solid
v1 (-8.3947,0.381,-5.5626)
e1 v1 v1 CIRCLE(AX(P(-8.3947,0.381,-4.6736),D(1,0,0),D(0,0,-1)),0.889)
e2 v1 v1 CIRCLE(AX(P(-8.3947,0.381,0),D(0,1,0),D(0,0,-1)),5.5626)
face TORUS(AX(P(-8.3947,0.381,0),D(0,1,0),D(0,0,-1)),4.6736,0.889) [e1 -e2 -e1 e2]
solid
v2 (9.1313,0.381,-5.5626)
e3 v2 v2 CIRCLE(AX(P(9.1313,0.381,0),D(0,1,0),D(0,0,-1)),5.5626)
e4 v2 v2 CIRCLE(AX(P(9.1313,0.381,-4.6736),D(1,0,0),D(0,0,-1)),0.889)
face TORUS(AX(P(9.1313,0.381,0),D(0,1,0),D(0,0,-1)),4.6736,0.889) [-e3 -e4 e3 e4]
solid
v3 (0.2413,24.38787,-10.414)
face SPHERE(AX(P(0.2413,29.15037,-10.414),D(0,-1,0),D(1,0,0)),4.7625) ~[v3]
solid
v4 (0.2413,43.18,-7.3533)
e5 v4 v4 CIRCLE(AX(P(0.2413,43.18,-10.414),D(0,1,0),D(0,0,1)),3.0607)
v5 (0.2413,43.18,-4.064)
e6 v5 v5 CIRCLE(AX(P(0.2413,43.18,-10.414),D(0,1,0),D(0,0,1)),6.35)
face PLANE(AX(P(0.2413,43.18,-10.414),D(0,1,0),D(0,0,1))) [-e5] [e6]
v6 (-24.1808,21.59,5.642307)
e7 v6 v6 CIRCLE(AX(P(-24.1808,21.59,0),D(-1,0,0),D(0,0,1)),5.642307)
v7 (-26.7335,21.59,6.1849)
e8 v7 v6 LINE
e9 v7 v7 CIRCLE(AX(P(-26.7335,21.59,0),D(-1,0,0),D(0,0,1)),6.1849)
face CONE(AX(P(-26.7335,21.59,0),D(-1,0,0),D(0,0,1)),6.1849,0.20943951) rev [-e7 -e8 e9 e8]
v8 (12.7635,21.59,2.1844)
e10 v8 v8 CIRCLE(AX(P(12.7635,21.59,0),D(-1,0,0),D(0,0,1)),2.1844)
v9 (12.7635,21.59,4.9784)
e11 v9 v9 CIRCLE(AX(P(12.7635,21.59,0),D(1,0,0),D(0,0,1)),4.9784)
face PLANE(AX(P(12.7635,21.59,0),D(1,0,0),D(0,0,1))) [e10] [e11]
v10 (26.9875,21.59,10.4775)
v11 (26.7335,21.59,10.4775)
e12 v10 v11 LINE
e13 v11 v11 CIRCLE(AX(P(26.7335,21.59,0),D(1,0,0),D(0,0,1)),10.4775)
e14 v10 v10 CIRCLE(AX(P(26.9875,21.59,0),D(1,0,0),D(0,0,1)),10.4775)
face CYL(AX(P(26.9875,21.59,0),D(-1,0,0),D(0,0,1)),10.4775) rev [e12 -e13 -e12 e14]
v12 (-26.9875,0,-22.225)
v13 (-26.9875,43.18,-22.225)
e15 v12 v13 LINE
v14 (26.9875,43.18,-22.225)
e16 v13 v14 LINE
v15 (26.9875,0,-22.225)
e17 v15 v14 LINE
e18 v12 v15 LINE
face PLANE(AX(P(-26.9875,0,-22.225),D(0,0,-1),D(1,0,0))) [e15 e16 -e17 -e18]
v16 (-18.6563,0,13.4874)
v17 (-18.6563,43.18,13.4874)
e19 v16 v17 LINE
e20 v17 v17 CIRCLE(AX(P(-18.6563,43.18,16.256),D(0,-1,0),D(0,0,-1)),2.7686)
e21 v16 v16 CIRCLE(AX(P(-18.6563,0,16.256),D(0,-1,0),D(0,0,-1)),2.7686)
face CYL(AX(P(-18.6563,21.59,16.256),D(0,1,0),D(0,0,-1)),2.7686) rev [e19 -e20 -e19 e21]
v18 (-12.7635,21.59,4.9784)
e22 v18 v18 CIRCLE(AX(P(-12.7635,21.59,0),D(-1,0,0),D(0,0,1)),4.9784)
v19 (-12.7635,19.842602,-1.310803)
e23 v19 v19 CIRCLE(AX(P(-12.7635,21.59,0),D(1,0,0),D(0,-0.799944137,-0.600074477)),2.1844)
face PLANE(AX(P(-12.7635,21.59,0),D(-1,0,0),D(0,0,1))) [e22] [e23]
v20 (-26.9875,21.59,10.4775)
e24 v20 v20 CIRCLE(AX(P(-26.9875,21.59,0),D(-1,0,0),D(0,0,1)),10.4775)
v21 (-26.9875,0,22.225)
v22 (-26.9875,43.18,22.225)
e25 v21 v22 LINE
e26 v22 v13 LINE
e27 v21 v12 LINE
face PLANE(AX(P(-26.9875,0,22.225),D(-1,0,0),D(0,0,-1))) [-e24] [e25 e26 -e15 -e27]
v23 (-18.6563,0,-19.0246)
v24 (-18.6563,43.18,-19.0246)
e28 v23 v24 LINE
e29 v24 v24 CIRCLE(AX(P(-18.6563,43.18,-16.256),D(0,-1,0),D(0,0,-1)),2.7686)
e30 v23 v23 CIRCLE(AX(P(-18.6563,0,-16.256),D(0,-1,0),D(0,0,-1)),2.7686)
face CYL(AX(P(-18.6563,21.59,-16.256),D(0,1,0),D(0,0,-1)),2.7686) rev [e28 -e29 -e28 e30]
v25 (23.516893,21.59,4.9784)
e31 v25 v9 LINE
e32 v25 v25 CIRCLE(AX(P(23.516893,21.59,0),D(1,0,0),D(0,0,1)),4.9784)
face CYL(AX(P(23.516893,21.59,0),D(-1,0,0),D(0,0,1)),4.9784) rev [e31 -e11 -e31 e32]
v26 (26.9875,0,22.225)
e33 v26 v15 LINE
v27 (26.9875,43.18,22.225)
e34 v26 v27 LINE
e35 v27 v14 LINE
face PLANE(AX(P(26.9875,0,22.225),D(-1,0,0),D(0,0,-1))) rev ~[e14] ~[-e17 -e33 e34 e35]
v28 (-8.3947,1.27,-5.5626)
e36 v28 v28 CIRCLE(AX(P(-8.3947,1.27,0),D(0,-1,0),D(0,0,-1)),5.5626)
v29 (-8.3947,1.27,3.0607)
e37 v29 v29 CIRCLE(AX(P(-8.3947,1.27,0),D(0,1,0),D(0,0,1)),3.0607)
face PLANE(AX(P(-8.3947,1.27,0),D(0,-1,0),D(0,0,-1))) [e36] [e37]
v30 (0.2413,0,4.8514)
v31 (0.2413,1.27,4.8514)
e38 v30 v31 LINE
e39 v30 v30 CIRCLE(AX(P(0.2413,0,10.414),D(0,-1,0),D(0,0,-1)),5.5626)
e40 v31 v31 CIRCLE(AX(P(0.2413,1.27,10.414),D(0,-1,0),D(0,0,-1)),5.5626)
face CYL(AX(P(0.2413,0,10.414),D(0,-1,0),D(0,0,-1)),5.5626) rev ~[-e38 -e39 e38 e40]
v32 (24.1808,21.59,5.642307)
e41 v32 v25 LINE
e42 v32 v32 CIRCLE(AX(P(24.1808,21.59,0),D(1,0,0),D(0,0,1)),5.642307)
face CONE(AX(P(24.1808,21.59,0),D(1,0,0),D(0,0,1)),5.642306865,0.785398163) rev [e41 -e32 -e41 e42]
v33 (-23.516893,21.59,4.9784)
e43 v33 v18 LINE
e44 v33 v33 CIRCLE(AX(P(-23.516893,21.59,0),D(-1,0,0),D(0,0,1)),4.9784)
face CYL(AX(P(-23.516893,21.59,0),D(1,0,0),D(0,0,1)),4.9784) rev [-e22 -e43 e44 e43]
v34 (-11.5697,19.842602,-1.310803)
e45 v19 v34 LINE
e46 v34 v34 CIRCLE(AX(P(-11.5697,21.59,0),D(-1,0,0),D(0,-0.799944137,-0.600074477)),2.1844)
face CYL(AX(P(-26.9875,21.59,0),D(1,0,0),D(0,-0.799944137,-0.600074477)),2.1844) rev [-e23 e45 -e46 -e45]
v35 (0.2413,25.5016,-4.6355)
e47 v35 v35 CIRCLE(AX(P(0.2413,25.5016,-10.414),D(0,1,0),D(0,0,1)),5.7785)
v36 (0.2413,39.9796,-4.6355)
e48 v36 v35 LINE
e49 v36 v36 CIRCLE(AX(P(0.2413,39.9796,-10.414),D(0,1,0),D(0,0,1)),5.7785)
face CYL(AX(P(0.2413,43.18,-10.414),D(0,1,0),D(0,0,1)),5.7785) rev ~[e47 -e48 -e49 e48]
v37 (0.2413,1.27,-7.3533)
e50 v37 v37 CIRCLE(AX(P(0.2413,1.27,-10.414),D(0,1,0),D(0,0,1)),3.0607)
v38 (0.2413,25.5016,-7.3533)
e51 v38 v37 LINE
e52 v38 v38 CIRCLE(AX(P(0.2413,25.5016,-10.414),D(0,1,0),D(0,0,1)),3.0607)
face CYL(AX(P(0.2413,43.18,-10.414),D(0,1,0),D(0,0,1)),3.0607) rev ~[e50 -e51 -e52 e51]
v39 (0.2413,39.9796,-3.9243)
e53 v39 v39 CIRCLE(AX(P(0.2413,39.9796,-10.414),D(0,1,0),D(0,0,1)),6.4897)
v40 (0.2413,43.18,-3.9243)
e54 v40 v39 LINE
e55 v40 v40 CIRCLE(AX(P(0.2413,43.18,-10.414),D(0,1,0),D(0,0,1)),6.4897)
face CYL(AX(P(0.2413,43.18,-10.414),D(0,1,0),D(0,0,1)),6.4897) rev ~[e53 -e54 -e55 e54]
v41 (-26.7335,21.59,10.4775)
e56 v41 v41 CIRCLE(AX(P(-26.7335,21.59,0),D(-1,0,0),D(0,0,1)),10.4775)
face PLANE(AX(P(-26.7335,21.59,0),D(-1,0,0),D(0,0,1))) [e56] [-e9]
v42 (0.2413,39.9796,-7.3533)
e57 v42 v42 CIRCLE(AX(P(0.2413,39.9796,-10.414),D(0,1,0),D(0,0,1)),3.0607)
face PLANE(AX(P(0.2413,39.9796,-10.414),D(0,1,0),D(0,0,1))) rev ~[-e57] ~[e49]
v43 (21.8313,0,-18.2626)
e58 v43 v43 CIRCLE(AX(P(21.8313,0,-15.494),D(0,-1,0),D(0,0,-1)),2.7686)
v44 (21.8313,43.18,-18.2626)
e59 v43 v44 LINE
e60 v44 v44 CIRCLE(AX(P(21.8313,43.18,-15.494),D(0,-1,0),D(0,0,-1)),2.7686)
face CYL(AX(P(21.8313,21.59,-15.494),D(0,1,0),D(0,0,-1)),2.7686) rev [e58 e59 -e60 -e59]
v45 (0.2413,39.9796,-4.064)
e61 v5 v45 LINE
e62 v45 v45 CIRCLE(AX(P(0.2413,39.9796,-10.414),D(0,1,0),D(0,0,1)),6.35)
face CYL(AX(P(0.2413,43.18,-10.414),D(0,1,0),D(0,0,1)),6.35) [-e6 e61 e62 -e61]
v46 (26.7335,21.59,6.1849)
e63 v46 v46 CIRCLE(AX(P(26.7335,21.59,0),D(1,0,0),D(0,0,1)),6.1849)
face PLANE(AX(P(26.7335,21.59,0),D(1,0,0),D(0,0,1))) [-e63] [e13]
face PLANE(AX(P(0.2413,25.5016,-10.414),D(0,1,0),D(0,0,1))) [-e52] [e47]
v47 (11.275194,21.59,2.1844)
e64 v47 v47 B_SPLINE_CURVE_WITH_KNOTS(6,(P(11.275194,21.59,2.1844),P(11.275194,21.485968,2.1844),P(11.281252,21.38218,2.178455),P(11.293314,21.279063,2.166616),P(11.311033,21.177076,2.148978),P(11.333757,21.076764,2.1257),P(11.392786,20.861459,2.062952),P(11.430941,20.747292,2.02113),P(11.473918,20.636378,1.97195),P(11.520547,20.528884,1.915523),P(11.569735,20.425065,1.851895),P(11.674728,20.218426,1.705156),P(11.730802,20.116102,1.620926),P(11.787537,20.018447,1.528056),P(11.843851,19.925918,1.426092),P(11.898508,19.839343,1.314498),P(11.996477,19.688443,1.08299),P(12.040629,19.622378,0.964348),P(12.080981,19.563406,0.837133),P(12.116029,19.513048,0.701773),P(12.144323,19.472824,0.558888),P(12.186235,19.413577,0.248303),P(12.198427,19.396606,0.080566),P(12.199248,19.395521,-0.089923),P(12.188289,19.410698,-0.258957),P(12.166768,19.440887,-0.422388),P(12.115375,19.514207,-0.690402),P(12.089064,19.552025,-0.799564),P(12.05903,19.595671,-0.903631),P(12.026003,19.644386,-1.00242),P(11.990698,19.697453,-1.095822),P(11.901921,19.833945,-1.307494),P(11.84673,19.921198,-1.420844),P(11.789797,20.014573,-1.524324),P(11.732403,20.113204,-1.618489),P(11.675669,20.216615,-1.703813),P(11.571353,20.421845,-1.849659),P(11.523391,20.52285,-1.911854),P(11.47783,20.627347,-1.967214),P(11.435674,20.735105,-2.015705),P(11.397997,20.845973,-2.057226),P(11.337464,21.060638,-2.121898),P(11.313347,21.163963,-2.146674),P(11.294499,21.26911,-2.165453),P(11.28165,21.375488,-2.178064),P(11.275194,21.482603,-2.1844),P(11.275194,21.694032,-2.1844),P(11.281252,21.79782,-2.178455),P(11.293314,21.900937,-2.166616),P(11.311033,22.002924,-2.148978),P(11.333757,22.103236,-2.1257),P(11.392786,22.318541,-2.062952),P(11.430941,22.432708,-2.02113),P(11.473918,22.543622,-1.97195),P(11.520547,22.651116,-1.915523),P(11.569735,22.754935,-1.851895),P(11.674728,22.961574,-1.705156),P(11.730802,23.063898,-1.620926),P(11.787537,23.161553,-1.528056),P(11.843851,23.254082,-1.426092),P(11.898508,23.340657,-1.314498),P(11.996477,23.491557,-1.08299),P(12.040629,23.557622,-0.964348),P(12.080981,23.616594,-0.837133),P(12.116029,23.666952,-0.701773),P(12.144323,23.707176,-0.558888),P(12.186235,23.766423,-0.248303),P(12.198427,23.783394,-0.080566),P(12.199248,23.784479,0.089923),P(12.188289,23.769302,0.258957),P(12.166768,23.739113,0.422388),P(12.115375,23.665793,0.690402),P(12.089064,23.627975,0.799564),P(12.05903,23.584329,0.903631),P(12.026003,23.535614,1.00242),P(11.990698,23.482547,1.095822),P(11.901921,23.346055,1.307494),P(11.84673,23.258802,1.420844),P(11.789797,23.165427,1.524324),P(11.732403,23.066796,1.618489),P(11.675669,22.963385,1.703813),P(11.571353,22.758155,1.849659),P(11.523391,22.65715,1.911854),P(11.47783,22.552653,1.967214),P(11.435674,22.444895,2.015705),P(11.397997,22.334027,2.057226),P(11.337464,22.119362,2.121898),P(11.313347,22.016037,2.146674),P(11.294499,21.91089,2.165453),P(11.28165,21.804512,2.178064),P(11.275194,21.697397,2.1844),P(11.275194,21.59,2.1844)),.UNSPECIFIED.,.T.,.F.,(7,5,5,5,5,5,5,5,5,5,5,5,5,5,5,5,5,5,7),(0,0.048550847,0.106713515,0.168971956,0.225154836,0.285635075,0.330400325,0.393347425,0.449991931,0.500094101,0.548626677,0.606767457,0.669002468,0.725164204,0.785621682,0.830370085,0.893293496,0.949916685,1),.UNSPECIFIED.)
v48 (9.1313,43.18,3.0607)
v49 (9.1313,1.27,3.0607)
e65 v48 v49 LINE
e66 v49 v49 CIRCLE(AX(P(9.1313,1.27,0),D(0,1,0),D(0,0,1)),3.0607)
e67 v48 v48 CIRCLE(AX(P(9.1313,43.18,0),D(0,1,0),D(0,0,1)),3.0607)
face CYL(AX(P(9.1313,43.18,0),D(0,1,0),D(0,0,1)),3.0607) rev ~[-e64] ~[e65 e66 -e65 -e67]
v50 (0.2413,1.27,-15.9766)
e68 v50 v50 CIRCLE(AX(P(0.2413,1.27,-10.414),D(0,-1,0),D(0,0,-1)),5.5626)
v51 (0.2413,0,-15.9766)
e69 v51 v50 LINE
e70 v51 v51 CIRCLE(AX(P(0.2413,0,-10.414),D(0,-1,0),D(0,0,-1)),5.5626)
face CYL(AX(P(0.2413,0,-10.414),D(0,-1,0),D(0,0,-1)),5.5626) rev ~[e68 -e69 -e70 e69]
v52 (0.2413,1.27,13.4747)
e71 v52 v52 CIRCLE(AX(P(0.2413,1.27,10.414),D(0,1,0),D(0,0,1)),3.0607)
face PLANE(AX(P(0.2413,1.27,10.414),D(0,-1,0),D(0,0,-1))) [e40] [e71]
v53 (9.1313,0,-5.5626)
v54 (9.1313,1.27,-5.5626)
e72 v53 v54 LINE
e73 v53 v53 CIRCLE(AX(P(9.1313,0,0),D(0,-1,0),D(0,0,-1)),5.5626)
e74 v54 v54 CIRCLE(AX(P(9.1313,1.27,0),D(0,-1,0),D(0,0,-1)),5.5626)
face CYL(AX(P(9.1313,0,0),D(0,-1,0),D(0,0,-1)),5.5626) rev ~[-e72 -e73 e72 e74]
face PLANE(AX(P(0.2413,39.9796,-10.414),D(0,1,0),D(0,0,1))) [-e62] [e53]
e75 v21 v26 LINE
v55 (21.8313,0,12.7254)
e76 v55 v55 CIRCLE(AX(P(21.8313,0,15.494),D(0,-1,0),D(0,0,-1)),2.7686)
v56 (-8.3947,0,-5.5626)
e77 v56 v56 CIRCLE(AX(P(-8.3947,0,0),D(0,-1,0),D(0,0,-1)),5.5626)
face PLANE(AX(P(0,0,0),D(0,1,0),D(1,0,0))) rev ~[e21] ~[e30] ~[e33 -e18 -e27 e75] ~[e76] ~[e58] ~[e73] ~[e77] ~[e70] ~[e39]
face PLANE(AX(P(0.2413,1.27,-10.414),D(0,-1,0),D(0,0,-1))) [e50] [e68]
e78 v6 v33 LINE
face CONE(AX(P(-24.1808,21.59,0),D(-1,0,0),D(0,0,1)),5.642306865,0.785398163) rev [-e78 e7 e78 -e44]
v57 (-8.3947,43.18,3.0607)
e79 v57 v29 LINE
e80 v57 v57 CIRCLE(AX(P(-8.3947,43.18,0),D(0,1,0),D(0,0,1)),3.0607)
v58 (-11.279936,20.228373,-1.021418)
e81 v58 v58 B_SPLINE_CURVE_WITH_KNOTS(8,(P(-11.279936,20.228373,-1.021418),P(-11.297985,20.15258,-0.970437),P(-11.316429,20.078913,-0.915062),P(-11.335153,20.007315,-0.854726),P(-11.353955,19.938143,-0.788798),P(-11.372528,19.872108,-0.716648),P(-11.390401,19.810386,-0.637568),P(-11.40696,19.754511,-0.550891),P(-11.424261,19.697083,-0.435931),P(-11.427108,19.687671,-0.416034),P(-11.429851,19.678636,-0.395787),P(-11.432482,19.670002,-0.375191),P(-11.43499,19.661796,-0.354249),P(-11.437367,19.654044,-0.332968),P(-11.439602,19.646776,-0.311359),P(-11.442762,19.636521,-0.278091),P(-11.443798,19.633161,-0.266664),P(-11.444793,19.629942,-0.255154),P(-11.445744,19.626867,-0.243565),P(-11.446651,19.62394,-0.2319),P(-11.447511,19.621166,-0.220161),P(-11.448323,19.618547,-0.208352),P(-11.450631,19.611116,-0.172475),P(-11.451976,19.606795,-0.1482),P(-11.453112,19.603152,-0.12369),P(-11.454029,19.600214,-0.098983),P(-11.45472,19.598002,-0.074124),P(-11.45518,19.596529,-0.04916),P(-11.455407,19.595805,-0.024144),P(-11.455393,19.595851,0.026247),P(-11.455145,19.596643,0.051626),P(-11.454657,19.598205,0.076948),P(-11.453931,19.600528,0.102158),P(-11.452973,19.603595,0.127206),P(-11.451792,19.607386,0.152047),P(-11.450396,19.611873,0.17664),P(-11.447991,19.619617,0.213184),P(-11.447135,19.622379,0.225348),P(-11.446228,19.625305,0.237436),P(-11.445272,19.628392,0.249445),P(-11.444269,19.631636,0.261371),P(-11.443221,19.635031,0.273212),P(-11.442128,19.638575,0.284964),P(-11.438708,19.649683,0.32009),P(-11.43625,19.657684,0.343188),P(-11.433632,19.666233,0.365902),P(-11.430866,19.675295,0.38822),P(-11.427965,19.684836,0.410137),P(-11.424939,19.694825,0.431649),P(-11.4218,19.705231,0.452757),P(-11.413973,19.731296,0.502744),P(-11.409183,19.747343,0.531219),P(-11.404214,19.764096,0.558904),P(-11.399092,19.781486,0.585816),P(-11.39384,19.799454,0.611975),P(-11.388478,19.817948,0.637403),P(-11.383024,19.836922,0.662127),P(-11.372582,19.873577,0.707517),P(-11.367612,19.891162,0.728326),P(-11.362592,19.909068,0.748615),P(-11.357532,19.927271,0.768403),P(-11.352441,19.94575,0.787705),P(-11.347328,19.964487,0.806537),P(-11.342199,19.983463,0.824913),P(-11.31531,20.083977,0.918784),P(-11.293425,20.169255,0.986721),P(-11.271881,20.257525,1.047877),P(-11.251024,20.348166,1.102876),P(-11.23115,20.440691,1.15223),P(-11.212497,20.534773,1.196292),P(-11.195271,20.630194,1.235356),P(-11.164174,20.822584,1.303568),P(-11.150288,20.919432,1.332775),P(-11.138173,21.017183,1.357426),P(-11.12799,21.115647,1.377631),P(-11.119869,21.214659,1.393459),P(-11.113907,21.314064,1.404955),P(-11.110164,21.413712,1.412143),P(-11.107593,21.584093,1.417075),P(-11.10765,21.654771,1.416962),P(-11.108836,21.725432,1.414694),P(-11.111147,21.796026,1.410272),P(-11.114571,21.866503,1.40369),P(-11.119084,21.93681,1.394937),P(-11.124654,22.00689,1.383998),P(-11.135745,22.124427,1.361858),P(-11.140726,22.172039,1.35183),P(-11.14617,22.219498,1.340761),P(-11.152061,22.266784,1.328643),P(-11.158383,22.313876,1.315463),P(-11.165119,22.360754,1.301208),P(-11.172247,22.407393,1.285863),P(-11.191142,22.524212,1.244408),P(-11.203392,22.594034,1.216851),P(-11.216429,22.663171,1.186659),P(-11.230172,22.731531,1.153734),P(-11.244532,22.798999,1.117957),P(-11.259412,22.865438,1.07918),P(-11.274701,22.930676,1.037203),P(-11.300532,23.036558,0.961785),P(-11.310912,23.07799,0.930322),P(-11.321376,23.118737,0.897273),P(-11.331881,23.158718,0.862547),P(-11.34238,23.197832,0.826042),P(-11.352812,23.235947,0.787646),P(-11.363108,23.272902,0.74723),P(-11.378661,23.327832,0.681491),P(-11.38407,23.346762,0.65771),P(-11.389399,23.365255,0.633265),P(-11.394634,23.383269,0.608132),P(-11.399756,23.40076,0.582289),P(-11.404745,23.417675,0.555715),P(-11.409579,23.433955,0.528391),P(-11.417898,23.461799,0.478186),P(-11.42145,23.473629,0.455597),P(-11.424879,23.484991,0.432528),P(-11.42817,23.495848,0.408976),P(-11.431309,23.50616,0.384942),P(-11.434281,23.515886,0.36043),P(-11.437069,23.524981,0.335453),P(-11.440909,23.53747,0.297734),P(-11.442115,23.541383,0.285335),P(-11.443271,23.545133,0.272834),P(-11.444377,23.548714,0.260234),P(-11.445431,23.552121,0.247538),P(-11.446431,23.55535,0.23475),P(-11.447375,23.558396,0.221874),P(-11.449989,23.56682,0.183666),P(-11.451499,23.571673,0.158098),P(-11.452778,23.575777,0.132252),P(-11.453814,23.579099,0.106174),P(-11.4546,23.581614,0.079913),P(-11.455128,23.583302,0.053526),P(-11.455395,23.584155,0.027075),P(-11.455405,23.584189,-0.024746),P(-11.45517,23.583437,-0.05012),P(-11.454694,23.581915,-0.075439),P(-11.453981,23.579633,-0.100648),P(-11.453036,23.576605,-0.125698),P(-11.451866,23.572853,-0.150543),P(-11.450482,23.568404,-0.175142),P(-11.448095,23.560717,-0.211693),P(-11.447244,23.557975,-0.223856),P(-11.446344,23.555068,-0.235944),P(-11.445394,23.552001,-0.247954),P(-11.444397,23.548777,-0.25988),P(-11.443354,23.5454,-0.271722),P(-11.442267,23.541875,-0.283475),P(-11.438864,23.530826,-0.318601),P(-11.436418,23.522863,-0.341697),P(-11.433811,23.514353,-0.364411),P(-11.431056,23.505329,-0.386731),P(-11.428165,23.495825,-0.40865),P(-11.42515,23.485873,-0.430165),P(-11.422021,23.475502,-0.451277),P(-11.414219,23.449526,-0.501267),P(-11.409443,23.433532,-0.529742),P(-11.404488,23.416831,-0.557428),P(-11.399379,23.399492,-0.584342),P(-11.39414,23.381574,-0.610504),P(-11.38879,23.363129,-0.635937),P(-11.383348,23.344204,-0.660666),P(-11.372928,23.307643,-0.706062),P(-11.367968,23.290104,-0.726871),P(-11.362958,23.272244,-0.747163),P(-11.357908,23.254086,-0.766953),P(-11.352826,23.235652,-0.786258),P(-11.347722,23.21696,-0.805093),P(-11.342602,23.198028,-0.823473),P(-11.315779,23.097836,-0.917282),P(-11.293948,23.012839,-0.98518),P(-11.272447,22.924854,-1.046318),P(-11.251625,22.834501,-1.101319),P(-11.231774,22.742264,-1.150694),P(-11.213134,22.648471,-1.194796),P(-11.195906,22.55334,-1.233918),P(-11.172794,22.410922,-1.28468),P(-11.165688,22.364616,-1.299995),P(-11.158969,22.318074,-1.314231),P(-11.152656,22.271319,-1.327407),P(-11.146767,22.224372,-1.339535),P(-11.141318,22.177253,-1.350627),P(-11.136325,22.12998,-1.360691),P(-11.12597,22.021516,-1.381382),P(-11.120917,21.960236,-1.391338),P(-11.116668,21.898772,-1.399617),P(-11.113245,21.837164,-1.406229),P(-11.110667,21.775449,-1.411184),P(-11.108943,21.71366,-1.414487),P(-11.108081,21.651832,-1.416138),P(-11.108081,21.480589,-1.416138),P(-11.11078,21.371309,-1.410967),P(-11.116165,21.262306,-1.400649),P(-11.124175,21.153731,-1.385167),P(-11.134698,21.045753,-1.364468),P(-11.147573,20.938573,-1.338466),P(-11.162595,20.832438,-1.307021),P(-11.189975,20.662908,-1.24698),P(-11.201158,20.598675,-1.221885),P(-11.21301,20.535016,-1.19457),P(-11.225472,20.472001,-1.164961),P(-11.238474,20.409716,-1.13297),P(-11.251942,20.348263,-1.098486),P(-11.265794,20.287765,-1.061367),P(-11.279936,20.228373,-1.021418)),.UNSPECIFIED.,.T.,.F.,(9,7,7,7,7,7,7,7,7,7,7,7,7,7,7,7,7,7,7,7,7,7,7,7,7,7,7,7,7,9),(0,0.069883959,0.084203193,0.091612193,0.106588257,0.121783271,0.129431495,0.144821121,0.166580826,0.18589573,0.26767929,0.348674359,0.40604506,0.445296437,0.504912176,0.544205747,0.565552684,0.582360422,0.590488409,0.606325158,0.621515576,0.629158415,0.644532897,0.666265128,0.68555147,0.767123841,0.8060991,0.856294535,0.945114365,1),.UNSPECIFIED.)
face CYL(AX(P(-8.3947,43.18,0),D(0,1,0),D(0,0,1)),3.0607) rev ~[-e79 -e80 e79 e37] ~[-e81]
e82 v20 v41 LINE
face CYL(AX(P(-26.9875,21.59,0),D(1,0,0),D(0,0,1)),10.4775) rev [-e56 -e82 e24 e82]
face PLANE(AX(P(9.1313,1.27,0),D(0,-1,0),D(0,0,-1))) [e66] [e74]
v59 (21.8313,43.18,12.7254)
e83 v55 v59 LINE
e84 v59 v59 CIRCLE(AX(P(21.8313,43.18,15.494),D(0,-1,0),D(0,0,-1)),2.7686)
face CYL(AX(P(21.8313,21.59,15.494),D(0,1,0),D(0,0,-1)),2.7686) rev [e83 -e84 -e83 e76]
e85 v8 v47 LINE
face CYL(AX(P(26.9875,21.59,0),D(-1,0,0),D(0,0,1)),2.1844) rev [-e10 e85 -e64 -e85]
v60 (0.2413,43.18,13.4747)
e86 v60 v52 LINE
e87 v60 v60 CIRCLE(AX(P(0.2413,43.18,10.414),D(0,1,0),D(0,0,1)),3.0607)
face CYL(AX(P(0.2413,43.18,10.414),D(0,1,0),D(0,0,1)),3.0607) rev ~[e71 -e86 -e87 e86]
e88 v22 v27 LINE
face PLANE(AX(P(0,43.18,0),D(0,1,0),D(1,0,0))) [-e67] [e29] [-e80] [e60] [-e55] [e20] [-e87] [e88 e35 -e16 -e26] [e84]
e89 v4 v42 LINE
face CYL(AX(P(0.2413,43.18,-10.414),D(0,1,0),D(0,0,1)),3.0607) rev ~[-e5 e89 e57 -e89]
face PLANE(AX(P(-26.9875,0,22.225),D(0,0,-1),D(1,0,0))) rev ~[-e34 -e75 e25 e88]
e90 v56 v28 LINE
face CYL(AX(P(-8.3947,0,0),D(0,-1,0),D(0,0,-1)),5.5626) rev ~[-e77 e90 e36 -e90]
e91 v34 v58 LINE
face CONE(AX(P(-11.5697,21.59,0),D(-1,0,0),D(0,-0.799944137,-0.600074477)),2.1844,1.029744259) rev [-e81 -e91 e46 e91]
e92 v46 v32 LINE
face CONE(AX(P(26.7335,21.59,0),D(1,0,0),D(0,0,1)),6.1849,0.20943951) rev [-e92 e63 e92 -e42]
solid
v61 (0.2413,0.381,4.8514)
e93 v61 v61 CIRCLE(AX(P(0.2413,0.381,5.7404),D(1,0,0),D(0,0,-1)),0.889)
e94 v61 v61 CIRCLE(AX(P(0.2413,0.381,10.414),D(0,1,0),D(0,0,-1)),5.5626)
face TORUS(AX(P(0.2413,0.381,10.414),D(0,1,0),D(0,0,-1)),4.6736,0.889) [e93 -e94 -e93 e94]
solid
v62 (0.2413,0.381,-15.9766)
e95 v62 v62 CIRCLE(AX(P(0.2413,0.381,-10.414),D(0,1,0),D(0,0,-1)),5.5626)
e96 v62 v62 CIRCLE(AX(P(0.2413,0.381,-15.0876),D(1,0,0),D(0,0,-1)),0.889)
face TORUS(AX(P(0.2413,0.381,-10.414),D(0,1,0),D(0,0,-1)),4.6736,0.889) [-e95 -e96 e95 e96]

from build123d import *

# Parameters (mm, degrees)
SKETCH1_W          = 53.975
SKETCH1_H          = 44.45
EXTRUDE1_DEPTH     = 43.18
SKETCH2_R          = 3.0607
CUT_EXTRUDE1_DEPTH = 44.18
SKETCH3_R          = 5.5626
CUT_EXTRUDE2_DEPTH = 1.27
SKETCH4_R          = 0.889
SKETCH5_R          = 0.889
SKETCH6_R          = 0.889
SKETCH7_R          = 0.889
SKETCH16_R         = 6.4897
CUT_EXTRUDE3_DEPTH = 3.2004
SKETCH17_R         = 5.7785
CUT_EXTRUDE4_DEPTH = 17.6784
SKETCH13_R         = 6.35
SKETCH13_R_2       = 3.0607
EXTRUDE2_DEPTH     = 3.2004
SKETCH18_W         = 2.7686
SKETCH18_H         = 43.18
HOLE1_AT_2_COUNT   = 2
HOLE1_AT_2_PITCH   = 40.494770005
HOLE1_AT_3_COUNT   = 2
HOLE1_AT_3_PITCH   = 51.451999512
HOLE1_AT_4_COUNT   = 2
HOLE1_AT_4_PITCH   = 30.988


with BuildPart() as part:
    # Sketch1 → Extrude1 (new body)
    with BuildSketch(Plane(origin=(0, 0, 0), x_dir=(1, 0, 0), z_dir=(0, 1, 0))):
        Rectangle(SKETCH1_W, SKETCH1_H)
    extrude(amount=EXTRUDE1_DEPTH)

    # Sketch2 → Cut-Extrude1 (cut, through all)
    with BuildSketch(Plane(origin=(0, 43.18, 0), x_dir=(-1, 0, 0), z_dir=(0, 1, 0))):
        with Locations(Location((-0.2413, 10.414, 0), (0, 0, 90))):  # turned: the seam where the file's is
            Circle(SKETCH2_R)
        with Locations(Location((-0.2413, -10.414, 0), (0, 0, 90))):  # turned: the seam where the file's is
            Circle(SKETCH2_R)
        with Locations(Location((-9.1313, 0, 0), (0, 0, 90))):  # turned: the seam where the file's is
            Circle(SKETCH2_R)
        with Locations(Location((8.3947, 0, 0), (0, 0, 90))):  # turned: the seam where the file's is
            Circle(SKETCH2_R)
    extrude(amount=-CUT_EXTRUDE1_DEPTH, mode=Mode.SUBTRACT)

    # Sketch3 → Cut-Extrude2 (cut)
    with BuildSketch(Plane.XZ):
        with Locations(Location((0.2413, -10.414, 0), (0, 0, 270))):  # turned: the seam where the file's is
            Circle(SKETCH3_R)
        with Locations(Location((9.1313, 0, 0), (0, 0, 270))):  # turned: the seam where the file's is
            Circle(SKETCH3_R)
        with Locations(Location((0.2413, 10.414, 0), (0, 0, 270))):  # turned: the seam where the file's is
            Circle(SKETCH3_R)
        with Locations(Location((-8.3947, 0, 0), (0, 0, 270))):  # turned: the seam where the file's is
            Circle(SKETCH3_R)
    extrude(amount=-CUT_EXTRUDE2_DEPTH, mode=Mode.SUBTRACT)

    # S2D0007 → Cut-Revolve1 (revolve, cut)
    with BuildSketch(Plane(origin=(26.9875, 21.59, 0), x_dir=(0, -1, 0), z_dir=(0, 0, 1)), mode=Mode.PRIVATE) as cut_revolve1_sk:
        Polygon((0, 0), (10.4775, 0), (10.4775, -0.254), (6.1849, -0.254), (5.642306865, -2.8067), (4.9784, -3.470606865), (4.9784, -14.224), (0, -14.224), align=None)
    revolve(cut_revolve1_sk.sketch.rotate(Axis((5.060825477, 21.59, 0), (1, 0, 0)), 270), axis=Axis((5.060825477, 21.59, 0), (1, 0, 0)), mode=Mode.SUBTRACT)  # turned: the seam where the file's is

    # Sketch9 → Cut-Revolve2 (revolve, cut)
    with BuildSketch(Plane(origin=(-26.9875, 21.59, 0), x_dir=(0, 1, 0), z_dir=(0, 0, 1)), mode=Mode.PRIVATE) as cut_revolve2_sk:
        Polygon((0, 0), (10.4775, 0), (10.4775, -0.254), (6.1849, -0.254), (5.642306865, -2.8067), (4.9784, -3.470606865), (4.9784, -14.224), (0, -14.224), align=None)
    revolve(cut_revolve2_sk.sketch.rotate(Axis((-12.0523, 21.59, 0), (-1, 0, 0)), 270), axis=Axis((-12.0523, 21.59, 0), (-1, 0, 0)), mode=Mode.SUBTRACT)  # turned: the seam where the file's is

    # S2D0006 → Cut-Revolve3 (revolve, cut)
    with BuildSketch(Plane(origin=(26.9875, 21.59, 0), x_dir=(0, -1, 0), z_dir=(0, 0, 1)), mode=Mode.PRIVATE) as cut_revolve3_sk:
        Polygon((0, 0), (2.1844, 0), (2.1844, -17.8562), (0, -19.168719936), align=None)
    revolve(cut_revolve3_sk.sketch.rotate(Axis((6.860344067, 21.59, 0), (1, 0, 0)), 270), axis=Axis((6.860344067, 21.59, 0), (1, 0, 0)), mode=Mode.SUBTRACT)  # turned: the seam where the file's is

    # Sketch11 → Cut-Revolve4 (revolve, cut)
    with BuildSketch(Plane(origin=(-26.9875, 21.59, 0), x_dir=(0, 1, 0), z_dir=(0, 0, 1)), mode=Mode.PRIVATE) as cut_revolve4_sk:
        Polygon((0, 0), (2.1844, 0), (2.1844, -15.4178), (0, -16.730319936), align=None)
    revolve(cut_revolve4_sk.sketch.rotate(Axis((-9.420664067, 21.59, 0), (-1, 0, 0)), 143.124768154), axis=Axis((-9.420664067, 21.59, 0), (-1, 0, 0)), mode=Mode.SUBTRACT)  # turned: the seam where the file's is

    # Sketch16 → Cut-Extrude3 (cut)
    with BuildSketch(Plane(origin=(0, 43.18, 0), x_dir=(1, 0, 0), z_dir=(0, 1, 0))):
        with Locations(Location((0.2413, 10.414, 0), (0, 0, 270))):  # turned: the seam where the file's is
            Circle(SKETCH16_R)
    extrude(amount=-CUT_EXTRUDE3_DEPTH, mode=Mode.SUBTRACT)

    # Sketch17 → Cut-Extrude4 (cut)
    with BuildSketch(Plane(origin=(0, 43.18, 0), x_dir=(1, 0, 0), z_dir=(0, 1, 0))):
        with Locations(Location((0.2413, 10.414, 0), (0, 0, 270))):  # turned: the seam where the file's is
            Circle(SKETCH17_R)
    extrude(amount=-CUT_EXTRUDE4_DEPTH, mode=Mode.SUBTRACT)

    # Sketch13 → Extrude2 (add)
    with BuildSketch(Plane(origin=(0, 43.18, 0), x_dir=(-1, 0, 0), z_dir=(0, 1, 0))):
        with Locations(Location((-0.2413, -10.414, 0), (0, 0, 90))):  # turned: the seam where the file's is
            Circle(SKETCH13_R)
        with Locations(Location((-0.2413, -10.414, 0), (0, 0, 90))):  # turned: the seam where the file's is
            Circle(SKETCH13_R_2, mode=Mode.SUBTRACT)
    extrude(amount=-EXTRUDE2_DEPTH)

    # Sketch18 → Hole1 (revolve, cut)
    with BuildSketch(Plane(origin=(21.8313, 0, 15.494), x_dir=(0, 0, -1), z_dir=(1, 0, 0))):
        with Locations((1.3843, 21.59)):
            Rectangle(SKETCH18_W, SKETCH18_H)
    hole1 = revolve(axis=Axis((21.8313, 110, 15.494), (0, -1, 0)), mode=Mode.SUBTRACT)

    # Hole1 at 2: Hole1 ×2
    with Locations(*[Vector(-0.99982294, 0, 0.018817245) * (i * HOLE1_AT_2_PITCH) for i in range(1, HOLE1_AT_2_COUNT)]):
        add(hole1, mode=Mode.SUBTRACT)

    # Hole1 at 3: Hole1 ×2
    with Locations(*[Vector(-0.78690042, 0, -0.617080003) * (i * HOLE1_AT_3_PITCH) for i in range(1, HOLE1_AT_3_COUNT)]):
        add(hole1, mode=Mode.SUBTRACT)

    # Hole1 at 4: Hole1 ×2
    with Locations(*[(0, 0, -i * HOLE1_AT_4_PITCH) for i in range(1, HOLE1_AT_4_COUNT)]):
        add(hole1, mode=Mode.SUBTRACT)


with BuildPart() as body_2:
    # Sketch4 → Revolve1 (revolve)
    with BuildSketch(Plane(origin=(0.2413, 1.27, -10.414), x_dir=(1, 0, 0), z_dir=(0, 0, 1)), mode=Mode.PRIVATE) as revolve1_sk:
        with Locations((4.6736, -0.889)):
            Circle(SKETCH4_R)
    revolve(revolve1_sk.sketch.rotate(Axis((0.2413, -0.5969, -10.414), (0, 1, 0)), 90), axis=Axis((0.2413, -0.5969, -10.414), (0, 1, 0)))  # turned: the seam where the file's is


with BuildPart() as body_3:
    # Sketch5 → Revolve2 (revolve)
    with BuildSketch(Plane(origin=(9.1313, 1.27, 0), x_dir=(1, 0, 0), z_dir=(0, 0, 1)), mode=Mode.PRIVATE) as revolve2_sk:
        with Locations((4.6736, -0.889)):
            Circle(SKETCH5_R)
    revolve(revolve2_sk.sketch.rotate(Axis((9.1313, -0.5969, 0), (0, 1, 0)), 90), axis=Axis((9.1313, -0.5969, 0), (0, 1, 0)))  # turned: the seam where the file's is


with BuildPart() as body_4:
    # Sketch6 → Revolve3 (revolve)
    with BuildSketch(Plane(origin=(0.2413, 1.27, 10.414), x_dir=(1, 0, 0), z_dir=(0, 0, 1)), mode=Mode.PRIVATE) as revolve3_sk:
        with Locations((4.6736, -0.889)):
            Circle(SKETCH6_R)
    revolve(revolve3_sk.sketch.rotate(Axis((0.2413, -0.5969, 10.414), (0, 1, 0)), 90), axis=Axis((0.2413, -0.5969, 10.414), (0, 1, 0)))  # turned: the seam where the file's is


with BuildPart() as body_5:
    # Sketch7 → Revolve4 (revolve)
    with BuildSketch(Plane(origin=(-8.3947, 1.27, 0), x_dir=(1, 0, 0), z_dir=(0, 0, 1)), mode=Mode.PRIVATE) as revolve4_sk:
        with Locations((4.6736, -0.889)):
            Circle(SKETCH7_R)
    revolve(revolve4_sk.sketch.rotate(Axis((-8.3947, -0.5969, 0), (0, 1, 0)), 90), axis=Axis((-8.3947, -0.5969, 0), (0, 1, 0)))  # turned: the seam where the file's is


with BuildPart() as body_6:
    # Sketch12 → Revolve5 (revolve)
    with BuildSketch(Plane(origin=(0.2413, 1.27, -10.414), x_dir=(1, 0, 0), z_dir=(0, 0, 1))):
        with BuildLine():
            Line((0, 23.117869897), (0, 32.642869897))
            ThreePointArc((0, 32.642869897), (4.7625, 27.880369897), (0, 23.117869897))
        make_face()
    revolve(axis=Axis((0.2413, 23.911619897, -10.414), (0, 1, 0)))


solid = Compound([part.part, body_2.part, body_3.part, body_4.part, body_5.part, body_6.part])
